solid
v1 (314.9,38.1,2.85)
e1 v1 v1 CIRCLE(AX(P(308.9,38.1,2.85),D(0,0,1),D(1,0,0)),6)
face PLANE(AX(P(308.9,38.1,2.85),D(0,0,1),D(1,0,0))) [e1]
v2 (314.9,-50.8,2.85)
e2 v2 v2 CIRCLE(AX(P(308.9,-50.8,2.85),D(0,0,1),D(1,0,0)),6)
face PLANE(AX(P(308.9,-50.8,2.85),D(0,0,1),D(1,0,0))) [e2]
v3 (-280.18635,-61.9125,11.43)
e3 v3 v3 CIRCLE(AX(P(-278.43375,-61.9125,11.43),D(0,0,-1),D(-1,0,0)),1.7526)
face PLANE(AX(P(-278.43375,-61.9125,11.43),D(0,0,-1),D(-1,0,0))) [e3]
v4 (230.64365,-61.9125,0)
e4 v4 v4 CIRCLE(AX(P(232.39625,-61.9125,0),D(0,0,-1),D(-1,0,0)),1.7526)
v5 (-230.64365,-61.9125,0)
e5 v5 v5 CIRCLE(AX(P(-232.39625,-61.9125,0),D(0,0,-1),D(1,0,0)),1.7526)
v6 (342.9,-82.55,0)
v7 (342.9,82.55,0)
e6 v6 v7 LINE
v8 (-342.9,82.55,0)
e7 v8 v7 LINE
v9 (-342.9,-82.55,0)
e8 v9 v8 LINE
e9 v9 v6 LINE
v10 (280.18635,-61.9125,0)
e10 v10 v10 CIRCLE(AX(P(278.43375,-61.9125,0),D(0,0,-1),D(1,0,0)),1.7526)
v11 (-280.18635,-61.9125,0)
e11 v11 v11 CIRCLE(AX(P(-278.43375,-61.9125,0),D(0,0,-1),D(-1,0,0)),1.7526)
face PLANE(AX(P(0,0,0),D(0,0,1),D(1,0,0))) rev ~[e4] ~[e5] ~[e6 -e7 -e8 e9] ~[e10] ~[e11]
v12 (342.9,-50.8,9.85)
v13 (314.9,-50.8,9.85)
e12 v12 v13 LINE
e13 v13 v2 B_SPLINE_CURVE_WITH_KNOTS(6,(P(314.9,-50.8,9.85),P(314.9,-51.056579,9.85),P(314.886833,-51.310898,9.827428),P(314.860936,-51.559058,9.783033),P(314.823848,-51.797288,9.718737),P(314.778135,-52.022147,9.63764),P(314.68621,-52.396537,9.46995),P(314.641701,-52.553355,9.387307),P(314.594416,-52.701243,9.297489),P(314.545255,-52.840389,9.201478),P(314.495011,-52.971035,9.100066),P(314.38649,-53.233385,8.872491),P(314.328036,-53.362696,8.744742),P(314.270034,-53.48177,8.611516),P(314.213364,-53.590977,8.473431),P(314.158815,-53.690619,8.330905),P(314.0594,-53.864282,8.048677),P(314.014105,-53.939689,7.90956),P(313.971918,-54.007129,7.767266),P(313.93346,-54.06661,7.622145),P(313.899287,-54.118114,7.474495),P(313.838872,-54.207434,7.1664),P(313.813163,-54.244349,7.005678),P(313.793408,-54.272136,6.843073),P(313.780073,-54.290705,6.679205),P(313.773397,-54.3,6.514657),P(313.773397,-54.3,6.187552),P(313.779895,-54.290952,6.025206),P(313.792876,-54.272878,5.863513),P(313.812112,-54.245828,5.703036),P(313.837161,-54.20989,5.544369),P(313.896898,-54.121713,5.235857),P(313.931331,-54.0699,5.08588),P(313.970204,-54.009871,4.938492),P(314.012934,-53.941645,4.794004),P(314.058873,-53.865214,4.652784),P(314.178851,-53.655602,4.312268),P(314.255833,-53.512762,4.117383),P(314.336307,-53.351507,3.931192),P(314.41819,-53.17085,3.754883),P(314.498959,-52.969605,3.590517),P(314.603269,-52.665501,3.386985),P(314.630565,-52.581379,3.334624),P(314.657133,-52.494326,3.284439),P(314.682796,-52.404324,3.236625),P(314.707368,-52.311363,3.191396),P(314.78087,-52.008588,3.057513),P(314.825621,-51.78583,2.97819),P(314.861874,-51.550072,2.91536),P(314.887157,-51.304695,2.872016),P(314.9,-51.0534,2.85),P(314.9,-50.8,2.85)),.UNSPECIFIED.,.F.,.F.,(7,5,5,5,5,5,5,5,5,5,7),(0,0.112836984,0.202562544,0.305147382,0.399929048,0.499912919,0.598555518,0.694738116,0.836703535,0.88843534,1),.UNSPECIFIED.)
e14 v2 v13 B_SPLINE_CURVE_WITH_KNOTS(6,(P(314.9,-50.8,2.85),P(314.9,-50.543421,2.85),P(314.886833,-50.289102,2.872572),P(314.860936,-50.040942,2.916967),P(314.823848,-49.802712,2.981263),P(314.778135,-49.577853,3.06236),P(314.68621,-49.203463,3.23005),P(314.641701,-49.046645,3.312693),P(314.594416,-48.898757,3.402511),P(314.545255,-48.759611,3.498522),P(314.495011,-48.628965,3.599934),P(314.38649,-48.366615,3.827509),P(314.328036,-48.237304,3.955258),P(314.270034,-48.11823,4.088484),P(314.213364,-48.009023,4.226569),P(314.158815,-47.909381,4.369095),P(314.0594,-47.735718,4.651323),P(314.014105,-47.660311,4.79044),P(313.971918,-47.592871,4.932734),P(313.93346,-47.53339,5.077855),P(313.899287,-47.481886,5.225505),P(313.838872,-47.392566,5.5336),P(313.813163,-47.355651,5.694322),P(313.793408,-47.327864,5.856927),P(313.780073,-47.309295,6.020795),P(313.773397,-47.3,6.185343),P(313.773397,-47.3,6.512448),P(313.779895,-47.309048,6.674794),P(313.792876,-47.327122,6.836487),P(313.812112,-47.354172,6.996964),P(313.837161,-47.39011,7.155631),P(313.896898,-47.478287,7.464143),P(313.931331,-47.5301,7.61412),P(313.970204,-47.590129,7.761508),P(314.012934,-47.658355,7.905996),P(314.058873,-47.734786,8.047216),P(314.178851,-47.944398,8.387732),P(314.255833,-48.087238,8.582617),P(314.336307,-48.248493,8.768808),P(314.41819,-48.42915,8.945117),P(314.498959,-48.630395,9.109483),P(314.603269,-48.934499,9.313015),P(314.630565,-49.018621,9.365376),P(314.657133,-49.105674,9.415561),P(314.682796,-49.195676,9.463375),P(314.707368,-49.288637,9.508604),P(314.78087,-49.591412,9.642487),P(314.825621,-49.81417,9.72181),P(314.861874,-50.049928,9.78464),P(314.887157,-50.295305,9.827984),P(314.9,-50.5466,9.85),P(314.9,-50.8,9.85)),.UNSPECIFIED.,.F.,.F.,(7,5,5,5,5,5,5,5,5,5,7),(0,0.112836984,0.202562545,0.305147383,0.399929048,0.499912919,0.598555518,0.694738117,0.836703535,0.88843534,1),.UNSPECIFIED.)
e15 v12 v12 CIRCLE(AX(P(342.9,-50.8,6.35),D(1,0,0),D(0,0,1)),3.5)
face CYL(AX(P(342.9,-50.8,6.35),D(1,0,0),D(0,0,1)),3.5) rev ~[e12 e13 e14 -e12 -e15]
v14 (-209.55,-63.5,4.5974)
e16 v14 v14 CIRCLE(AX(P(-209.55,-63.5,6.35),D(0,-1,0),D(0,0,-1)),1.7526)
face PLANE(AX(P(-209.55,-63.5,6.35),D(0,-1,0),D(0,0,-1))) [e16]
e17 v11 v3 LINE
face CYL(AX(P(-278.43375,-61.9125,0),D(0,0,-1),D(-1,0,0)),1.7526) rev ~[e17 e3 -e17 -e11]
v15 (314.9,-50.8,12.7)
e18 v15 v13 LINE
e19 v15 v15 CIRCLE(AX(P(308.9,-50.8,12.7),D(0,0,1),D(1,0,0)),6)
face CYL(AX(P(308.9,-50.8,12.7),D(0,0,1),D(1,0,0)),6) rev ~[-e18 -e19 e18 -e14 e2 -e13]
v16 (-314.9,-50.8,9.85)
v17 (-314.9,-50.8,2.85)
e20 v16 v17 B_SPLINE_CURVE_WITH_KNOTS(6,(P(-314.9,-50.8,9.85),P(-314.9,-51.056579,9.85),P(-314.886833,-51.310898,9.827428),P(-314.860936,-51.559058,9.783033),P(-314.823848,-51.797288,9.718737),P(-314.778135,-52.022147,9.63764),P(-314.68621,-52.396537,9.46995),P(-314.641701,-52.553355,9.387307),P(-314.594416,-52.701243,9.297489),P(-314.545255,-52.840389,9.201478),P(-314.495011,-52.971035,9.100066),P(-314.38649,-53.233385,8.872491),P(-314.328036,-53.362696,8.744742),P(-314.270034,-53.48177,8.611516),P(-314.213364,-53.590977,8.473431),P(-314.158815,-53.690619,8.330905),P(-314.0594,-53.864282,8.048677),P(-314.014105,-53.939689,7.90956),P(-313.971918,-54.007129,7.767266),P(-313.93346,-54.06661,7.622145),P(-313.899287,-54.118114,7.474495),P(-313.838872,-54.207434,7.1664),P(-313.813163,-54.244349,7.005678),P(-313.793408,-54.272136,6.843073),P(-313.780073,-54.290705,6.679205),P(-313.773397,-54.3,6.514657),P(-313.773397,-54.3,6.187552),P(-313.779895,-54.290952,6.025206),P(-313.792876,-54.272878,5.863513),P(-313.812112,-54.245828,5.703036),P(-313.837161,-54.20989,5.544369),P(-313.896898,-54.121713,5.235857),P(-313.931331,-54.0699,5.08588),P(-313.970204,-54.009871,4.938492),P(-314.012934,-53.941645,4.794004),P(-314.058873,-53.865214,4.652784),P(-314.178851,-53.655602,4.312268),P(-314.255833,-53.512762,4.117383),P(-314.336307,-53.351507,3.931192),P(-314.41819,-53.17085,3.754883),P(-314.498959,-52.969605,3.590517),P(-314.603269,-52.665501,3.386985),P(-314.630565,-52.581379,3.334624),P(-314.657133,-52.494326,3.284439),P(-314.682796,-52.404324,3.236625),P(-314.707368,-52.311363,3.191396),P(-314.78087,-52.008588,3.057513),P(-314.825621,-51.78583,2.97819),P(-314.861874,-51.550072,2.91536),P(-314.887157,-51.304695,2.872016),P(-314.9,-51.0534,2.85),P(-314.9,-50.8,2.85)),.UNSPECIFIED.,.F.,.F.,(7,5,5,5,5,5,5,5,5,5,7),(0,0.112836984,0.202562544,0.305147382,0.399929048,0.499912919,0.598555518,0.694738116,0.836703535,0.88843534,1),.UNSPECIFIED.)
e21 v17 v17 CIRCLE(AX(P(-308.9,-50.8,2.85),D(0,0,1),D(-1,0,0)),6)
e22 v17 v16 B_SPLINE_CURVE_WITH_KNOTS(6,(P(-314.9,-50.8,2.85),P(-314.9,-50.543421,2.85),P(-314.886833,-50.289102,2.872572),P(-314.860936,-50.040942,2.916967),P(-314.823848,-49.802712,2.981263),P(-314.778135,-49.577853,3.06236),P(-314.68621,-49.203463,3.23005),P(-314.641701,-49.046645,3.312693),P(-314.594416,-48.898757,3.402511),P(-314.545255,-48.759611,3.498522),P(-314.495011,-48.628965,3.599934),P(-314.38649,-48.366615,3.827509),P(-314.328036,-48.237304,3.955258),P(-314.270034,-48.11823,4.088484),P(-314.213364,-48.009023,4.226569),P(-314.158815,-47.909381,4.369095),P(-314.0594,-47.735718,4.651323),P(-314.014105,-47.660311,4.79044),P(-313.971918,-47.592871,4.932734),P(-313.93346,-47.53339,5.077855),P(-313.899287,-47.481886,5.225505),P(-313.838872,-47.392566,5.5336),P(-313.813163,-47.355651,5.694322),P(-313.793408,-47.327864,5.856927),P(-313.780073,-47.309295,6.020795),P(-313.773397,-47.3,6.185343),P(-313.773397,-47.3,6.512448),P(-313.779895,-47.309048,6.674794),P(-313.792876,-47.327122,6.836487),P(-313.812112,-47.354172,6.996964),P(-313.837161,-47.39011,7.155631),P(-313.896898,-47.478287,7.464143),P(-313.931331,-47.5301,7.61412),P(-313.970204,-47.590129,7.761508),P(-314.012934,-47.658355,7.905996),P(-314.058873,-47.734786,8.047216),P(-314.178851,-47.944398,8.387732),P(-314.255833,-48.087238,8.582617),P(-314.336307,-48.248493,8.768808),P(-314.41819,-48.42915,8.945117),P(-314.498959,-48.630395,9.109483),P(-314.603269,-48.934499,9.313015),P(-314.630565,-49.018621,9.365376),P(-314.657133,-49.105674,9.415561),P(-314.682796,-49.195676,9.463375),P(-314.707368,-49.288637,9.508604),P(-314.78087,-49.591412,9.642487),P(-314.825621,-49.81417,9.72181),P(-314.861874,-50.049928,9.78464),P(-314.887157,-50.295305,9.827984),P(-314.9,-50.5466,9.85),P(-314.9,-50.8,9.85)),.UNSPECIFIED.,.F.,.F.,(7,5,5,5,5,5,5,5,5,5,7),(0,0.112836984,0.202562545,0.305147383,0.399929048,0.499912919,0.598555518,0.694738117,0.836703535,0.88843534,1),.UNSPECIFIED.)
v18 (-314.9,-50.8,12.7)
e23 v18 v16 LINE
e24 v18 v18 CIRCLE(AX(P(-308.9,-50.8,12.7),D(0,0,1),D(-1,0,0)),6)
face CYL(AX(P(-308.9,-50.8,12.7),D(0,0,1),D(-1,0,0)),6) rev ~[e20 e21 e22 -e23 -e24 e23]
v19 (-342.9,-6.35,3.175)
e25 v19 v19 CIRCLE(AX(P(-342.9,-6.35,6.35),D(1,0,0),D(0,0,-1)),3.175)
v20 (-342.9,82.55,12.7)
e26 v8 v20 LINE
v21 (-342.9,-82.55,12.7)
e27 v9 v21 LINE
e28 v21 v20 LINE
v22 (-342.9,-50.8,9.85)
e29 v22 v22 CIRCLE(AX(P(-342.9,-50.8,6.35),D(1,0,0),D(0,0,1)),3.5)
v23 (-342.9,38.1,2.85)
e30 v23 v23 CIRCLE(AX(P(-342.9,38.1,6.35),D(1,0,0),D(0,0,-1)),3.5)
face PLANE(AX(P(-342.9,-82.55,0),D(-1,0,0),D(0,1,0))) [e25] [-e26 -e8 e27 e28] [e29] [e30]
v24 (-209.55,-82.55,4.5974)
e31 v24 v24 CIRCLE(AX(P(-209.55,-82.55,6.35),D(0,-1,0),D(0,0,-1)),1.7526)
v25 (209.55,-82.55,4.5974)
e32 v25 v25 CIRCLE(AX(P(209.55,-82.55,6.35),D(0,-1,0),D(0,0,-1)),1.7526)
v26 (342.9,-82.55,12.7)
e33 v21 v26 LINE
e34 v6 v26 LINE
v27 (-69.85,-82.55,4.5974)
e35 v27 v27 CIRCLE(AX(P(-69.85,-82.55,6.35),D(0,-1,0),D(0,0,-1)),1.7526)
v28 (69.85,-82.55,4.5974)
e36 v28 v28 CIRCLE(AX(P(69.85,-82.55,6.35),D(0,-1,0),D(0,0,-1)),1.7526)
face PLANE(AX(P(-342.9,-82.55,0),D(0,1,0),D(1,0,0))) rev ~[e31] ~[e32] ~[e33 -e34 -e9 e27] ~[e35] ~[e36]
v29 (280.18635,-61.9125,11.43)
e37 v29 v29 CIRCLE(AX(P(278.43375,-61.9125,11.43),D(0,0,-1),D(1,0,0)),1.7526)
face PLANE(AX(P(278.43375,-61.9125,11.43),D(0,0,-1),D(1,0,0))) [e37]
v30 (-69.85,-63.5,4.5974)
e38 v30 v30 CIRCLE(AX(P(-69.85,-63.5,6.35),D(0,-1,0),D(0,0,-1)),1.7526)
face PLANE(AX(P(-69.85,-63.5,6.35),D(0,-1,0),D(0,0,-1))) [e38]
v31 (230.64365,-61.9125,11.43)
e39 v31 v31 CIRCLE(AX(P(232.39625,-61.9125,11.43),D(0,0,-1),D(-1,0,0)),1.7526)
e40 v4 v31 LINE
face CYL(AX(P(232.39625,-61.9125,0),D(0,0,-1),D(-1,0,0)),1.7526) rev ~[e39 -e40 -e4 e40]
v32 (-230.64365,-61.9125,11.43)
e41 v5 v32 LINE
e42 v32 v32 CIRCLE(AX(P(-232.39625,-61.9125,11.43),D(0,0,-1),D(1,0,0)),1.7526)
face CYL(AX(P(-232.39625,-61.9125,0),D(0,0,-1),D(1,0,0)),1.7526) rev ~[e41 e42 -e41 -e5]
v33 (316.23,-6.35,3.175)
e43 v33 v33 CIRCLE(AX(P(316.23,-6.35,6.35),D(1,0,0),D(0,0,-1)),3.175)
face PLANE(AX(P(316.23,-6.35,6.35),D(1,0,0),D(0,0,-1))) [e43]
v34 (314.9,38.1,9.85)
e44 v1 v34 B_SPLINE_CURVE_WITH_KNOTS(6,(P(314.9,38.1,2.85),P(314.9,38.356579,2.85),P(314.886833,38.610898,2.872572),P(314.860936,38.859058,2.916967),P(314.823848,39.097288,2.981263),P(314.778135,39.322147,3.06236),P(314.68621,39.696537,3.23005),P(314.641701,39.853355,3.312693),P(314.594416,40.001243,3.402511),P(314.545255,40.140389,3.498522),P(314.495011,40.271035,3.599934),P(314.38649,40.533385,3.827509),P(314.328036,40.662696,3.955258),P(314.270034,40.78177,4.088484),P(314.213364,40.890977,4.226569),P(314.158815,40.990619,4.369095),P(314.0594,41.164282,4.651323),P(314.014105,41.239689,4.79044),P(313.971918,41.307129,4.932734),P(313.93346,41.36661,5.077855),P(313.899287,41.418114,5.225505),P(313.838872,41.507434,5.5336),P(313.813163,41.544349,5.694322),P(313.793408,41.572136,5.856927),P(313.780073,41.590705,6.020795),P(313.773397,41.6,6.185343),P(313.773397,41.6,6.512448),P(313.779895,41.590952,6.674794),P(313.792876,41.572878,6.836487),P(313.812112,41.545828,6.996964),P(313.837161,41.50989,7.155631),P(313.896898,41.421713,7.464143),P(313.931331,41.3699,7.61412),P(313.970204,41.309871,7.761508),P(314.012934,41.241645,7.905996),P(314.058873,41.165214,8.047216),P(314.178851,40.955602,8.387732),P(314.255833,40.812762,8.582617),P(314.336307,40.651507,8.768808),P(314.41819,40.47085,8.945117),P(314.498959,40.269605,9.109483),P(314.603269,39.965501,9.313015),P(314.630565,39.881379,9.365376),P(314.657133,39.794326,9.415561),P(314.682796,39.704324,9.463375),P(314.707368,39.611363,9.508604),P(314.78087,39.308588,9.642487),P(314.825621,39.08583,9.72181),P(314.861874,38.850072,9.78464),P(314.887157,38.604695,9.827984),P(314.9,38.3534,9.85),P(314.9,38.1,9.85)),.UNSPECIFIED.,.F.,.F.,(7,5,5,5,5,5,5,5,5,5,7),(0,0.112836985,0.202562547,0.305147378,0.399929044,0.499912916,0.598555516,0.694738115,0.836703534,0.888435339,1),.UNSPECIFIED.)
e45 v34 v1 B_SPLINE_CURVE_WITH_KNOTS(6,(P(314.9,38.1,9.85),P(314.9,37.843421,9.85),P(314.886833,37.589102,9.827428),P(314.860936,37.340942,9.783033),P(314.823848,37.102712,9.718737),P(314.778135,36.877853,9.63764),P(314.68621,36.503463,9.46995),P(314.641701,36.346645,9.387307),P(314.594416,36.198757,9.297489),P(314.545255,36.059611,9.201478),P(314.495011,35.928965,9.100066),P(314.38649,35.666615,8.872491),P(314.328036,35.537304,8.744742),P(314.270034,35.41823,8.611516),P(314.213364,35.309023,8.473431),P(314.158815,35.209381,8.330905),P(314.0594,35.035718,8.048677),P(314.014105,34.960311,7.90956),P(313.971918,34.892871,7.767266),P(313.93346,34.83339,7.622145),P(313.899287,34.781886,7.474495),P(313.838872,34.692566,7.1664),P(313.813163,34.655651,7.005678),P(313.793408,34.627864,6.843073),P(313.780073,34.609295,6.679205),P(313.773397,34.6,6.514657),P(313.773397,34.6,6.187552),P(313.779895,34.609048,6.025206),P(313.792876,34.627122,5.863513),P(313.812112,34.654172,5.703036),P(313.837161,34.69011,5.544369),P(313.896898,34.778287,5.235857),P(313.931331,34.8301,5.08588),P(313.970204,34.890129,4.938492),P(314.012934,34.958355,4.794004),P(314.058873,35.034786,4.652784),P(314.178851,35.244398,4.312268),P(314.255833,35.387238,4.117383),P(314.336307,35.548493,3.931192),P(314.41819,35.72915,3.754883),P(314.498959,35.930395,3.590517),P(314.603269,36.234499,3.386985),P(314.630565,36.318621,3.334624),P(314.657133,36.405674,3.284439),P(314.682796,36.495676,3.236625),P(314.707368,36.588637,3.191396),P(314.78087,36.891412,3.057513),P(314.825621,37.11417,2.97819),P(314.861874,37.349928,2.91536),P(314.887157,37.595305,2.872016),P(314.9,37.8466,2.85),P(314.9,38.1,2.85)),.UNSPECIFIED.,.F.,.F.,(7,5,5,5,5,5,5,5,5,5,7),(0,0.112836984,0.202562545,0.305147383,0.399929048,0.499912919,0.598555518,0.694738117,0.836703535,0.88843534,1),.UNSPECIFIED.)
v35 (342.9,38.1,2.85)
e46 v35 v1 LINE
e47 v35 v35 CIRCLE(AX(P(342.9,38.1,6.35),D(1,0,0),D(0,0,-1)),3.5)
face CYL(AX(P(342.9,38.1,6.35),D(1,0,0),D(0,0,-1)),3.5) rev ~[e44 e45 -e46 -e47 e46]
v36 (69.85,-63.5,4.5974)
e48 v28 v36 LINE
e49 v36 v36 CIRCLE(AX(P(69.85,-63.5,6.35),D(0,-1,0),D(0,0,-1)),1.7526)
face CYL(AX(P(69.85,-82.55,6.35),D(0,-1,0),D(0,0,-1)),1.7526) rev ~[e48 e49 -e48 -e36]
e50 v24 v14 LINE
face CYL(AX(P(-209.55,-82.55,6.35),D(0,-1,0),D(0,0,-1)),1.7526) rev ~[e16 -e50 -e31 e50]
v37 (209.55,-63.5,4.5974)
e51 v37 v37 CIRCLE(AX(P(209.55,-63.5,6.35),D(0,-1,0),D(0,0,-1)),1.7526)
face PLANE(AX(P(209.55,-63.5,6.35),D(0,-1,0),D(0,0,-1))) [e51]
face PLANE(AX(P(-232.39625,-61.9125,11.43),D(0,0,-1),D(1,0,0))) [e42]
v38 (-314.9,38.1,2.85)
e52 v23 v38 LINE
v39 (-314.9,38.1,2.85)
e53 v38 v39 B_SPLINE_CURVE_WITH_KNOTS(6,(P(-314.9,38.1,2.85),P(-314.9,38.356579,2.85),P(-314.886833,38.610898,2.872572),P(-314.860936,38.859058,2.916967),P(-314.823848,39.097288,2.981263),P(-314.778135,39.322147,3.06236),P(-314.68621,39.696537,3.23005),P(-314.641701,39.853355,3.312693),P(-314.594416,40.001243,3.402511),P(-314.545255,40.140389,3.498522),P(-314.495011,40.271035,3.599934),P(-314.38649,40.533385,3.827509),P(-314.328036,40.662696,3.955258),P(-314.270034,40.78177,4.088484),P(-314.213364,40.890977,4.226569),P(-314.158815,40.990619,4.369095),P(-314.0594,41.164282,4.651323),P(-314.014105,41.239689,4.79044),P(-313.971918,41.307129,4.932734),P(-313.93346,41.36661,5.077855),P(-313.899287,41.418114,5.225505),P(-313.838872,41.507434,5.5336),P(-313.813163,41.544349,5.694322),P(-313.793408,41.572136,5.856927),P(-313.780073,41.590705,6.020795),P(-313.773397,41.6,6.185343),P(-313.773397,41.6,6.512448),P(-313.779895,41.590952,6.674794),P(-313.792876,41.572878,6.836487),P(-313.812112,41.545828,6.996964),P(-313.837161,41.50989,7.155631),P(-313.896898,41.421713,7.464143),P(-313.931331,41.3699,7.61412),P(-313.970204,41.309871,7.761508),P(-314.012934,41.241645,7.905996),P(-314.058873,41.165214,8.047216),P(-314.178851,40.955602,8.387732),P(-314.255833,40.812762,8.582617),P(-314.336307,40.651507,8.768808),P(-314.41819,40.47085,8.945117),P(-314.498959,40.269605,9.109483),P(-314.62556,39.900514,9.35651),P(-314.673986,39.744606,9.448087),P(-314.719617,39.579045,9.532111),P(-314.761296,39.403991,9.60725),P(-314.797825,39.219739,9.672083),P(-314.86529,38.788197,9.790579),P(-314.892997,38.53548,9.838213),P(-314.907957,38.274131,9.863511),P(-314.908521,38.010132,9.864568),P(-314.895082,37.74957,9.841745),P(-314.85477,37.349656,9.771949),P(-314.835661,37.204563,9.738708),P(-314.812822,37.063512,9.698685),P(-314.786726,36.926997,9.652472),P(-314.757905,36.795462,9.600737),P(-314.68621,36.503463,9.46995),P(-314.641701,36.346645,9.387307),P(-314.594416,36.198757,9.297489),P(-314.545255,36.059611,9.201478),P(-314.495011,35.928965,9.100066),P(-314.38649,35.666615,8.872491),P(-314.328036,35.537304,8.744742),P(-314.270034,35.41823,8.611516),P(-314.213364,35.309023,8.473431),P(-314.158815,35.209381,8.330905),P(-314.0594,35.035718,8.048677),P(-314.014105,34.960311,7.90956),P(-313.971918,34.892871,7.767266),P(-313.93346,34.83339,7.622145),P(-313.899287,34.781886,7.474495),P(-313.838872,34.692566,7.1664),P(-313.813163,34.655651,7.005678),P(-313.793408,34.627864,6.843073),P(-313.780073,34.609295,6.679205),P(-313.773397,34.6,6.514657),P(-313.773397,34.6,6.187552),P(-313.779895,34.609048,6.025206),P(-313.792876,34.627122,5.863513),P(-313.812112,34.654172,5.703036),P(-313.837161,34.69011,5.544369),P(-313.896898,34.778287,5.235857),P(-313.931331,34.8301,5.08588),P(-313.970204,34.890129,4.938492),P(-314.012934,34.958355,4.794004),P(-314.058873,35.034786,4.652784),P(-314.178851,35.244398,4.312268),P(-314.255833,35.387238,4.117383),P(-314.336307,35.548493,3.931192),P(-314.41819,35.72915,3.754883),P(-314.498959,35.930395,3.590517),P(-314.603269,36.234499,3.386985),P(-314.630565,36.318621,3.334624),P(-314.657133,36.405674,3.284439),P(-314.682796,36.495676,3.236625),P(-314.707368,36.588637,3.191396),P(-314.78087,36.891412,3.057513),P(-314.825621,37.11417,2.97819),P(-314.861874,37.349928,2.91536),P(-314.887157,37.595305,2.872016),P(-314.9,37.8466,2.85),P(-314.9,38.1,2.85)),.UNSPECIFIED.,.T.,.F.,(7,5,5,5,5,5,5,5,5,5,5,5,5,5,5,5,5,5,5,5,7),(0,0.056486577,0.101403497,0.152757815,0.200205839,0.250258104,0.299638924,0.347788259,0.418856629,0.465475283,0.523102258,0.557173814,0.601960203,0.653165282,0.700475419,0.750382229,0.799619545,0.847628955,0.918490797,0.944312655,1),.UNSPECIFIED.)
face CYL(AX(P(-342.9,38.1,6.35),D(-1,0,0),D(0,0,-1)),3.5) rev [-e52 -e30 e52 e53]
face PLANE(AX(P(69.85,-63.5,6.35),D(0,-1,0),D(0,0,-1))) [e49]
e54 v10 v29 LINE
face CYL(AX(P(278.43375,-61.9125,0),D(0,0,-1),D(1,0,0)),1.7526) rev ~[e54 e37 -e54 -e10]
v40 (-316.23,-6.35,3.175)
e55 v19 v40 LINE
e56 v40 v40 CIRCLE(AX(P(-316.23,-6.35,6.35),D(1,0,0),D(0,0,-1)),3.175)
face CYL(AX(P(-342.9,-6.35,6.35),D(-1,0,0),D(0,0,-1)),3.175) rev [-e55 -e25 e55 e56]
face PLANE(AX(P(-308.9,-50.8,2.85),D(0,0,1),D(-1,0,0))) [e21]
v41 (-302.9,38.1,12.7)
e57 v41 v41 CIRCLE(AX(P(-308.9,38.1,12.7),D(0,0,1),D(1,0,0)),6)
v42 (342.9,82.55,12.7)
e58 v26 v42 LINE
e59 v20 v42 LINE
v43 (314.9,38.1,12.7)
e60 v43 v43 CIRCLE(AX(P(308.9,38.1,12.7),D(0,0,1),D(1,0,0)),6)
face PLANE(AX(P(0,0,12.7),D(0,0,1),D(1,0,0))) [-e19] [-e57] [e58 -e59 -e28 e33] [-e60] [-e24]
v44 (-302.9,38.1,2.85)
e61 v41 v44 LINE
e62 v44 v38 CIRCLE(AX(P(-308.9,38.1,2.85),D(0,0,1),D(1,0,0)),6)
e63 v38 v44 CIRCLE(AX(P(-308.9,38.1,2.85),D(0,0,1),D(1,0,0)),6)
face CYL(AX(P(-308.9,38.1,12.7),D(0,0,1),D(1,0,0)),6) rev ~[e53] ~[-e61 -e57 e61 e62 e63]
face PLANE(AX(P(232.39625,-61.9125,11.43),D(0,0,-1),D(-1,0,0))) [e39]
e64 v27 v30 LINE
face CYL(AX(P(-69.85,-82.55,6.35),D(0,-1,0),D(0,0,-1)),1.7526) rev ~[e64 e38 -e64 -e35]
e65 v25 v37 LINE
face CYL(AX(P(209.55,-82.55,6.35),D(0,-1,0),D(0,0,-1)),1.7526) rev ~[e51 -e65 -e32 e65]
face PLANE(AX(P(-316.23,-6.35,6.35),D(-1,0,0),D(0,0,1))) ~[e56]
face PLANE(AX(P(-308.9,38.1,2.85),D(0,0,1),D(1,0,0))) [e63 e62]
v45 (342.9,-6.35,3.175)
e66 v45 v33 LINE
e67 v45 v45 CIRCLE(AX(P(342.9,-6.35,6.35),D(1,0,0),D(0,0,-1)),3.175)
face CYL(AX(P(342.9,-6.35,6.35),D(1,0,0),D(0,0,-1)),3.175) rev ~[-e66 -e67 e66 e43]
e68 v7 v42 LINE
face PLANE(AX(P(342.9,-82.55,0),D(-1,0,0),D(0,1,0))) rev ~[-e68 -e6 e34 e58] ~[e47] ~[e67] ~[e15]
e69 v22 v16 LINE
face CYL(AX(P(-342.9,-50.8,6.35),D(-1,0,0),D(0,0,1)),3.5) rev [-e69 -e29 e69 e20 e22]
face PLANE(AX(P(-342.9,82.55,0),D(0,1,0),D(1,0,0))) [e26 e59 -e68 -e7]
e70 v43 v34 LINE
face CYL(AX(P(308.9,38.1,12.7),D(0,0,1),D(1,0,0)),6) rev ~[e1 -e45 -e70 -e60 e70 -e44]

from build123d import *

# Parameters (mm, degrees)
SKETCH1_W           = 685.8
SKETCH1_H           = 165.1
BOSS_EXTRUDE1_DEPTH = 12.7
SKETCH2_R           = 3.175
CUT_EXTRUDE1_DEPTH  = 26.67
SKETCH3_R           = 3.5
CUT_EXTRUDE2_DEPTH  = 34
SKETCH4_R           = 6
CUT_EXTRUDE3_DEPTH  = 9.85
SKETCH5_R           = 1.7526
CUT_EXTRUDE4_DEPTH  = 19.05
SKETCH7_R           = 1.7526
CUT_EXTRUDE5_DEPTH  = 11.43


with BuildPart() as part:
    # Sketch1 → Boss-Extrude1 (new body)
    with BuildSketch(Plane.XY):
        Rectangle(SKETCH1_W, SKETCH1_H)
    extrude(amount=BOSS_EXTRUDE1_DEPTH)

    # Sketch2 → Cut-Extrude1 (cut)
    with BuildSketch(Plane(origin=(342.9, 0, 0), x_dir=(0, 0, -1), z_dir=(1, 0, 0))):
        with Locations((-6.35, -6.35)):
            Circle(SKETCH2_R)
    cut_extrude1 = extrude(amount=-CUT_EXTRUDE1_DEPTH, mode=Mode.SUBTRACT)

    # Sketch3 → Cut-Extrude2 (cut)
    with BuildSketch(Plane(origin=(342.9, 0, 0), x_dir=(0, 0, -1), z_dir=(1, 0, 0))):
        with Locations((-6.35, 38.1)):
            Circle(SKETCH3_R)
        with Locations(Location((-6.35, -50.8, 0), (0, 0, 180))):
            Circle(SKETCH3_R)
    cut_extrude2 = extrude(amount=-CUT_EXTRUDE2_DEPTH, mode=Mode.SUBTRACT)

    # Mirror2: Cut-Extrude1, Cut-Extrude2 across plane
    add(cut_extrude1.mirror(Plane(origin=(0, 0, 0), x_dir=(0, 0, 1), z_dir=(1, 0, 0))), mode=Mode.SUBTRACT)
    add(cut_extrude2.mirror(Plane(origin=(0, 0, 0), x_dir=(0, 0, 1), z_dir=(1, 0, 0))), mode=Mode.SUBTRACT)

    # Sketch4 → Cut-Extrude3 (cut)
    with BuildSketch(Plane.XY.offset(12.7)):
        with Locations((-308.9, 38.1)):
            Circle(SKETCH4_R)
        with Locations((308.9, -50.8)):
            Circle(SKETCH4_R)
        with Locations(Location((-308.9, -50.8, 0), (0, 0, 179.999999983))):
            Circle(SKETCH4_R)
        with Locations((308.9, 38.1)):
            Circle(SKETCH4_R)
    extrude(amount=-CUT_EXTRUDE3_DEPTH, mode=Mode.SUBTRACT)

    # Sketch5 → Cut-Extrude4 (cut)
    with BuildSketch(Plane.XZ.offset(82.55)):
        with Locations(Location((-209.55, 6.35, 0), (0, 0, 270))):
            Circle(SKETCH5_R)
        with Locations(Location((-69.85, 6.35, 0), (0, 0, 270))):
            Circle(SKETCH5_R)
        with Locations(Location((69.85, 6.35, 0), (0, 0, 270))):
            Circle(SKETCH5_R)
        with Locations(Location((209.55, 6.35, 0), (0, 0, 270))):
            Circle(SKETCH5_R)
    extrude(amount=-CUT_EXTRUDE4_DEPTH, mode=Mode.SUBTRACT)

    # Sketch7 → Cut-Extrude5 (cut)
    with BuildSketch(Plane(origin=(0, 0, 0), x_dir=(-1, 0, 0), z_dir=(0, 0, -1))):
        with Locations((278.43375, -61.9125)):
            Circle(SKETCH7_R)
        with Locations(Location((232.39625, -61.9125, 0), (0, 0, 180))):
            Circle(SKETCH7_R)
        with Locations((-232.39625, -61.9125)):
            Circle(SKETCH7_R)
        with Locations(Location((-278.43375, -61.9125, 0), (0, 0, 180))):
            Circle(SKETCH7_R)
    extrude(amount=-CUT_EXTRUDE5_DEPTH, mode=Mode.SUBTRACT)


solid = part.part
